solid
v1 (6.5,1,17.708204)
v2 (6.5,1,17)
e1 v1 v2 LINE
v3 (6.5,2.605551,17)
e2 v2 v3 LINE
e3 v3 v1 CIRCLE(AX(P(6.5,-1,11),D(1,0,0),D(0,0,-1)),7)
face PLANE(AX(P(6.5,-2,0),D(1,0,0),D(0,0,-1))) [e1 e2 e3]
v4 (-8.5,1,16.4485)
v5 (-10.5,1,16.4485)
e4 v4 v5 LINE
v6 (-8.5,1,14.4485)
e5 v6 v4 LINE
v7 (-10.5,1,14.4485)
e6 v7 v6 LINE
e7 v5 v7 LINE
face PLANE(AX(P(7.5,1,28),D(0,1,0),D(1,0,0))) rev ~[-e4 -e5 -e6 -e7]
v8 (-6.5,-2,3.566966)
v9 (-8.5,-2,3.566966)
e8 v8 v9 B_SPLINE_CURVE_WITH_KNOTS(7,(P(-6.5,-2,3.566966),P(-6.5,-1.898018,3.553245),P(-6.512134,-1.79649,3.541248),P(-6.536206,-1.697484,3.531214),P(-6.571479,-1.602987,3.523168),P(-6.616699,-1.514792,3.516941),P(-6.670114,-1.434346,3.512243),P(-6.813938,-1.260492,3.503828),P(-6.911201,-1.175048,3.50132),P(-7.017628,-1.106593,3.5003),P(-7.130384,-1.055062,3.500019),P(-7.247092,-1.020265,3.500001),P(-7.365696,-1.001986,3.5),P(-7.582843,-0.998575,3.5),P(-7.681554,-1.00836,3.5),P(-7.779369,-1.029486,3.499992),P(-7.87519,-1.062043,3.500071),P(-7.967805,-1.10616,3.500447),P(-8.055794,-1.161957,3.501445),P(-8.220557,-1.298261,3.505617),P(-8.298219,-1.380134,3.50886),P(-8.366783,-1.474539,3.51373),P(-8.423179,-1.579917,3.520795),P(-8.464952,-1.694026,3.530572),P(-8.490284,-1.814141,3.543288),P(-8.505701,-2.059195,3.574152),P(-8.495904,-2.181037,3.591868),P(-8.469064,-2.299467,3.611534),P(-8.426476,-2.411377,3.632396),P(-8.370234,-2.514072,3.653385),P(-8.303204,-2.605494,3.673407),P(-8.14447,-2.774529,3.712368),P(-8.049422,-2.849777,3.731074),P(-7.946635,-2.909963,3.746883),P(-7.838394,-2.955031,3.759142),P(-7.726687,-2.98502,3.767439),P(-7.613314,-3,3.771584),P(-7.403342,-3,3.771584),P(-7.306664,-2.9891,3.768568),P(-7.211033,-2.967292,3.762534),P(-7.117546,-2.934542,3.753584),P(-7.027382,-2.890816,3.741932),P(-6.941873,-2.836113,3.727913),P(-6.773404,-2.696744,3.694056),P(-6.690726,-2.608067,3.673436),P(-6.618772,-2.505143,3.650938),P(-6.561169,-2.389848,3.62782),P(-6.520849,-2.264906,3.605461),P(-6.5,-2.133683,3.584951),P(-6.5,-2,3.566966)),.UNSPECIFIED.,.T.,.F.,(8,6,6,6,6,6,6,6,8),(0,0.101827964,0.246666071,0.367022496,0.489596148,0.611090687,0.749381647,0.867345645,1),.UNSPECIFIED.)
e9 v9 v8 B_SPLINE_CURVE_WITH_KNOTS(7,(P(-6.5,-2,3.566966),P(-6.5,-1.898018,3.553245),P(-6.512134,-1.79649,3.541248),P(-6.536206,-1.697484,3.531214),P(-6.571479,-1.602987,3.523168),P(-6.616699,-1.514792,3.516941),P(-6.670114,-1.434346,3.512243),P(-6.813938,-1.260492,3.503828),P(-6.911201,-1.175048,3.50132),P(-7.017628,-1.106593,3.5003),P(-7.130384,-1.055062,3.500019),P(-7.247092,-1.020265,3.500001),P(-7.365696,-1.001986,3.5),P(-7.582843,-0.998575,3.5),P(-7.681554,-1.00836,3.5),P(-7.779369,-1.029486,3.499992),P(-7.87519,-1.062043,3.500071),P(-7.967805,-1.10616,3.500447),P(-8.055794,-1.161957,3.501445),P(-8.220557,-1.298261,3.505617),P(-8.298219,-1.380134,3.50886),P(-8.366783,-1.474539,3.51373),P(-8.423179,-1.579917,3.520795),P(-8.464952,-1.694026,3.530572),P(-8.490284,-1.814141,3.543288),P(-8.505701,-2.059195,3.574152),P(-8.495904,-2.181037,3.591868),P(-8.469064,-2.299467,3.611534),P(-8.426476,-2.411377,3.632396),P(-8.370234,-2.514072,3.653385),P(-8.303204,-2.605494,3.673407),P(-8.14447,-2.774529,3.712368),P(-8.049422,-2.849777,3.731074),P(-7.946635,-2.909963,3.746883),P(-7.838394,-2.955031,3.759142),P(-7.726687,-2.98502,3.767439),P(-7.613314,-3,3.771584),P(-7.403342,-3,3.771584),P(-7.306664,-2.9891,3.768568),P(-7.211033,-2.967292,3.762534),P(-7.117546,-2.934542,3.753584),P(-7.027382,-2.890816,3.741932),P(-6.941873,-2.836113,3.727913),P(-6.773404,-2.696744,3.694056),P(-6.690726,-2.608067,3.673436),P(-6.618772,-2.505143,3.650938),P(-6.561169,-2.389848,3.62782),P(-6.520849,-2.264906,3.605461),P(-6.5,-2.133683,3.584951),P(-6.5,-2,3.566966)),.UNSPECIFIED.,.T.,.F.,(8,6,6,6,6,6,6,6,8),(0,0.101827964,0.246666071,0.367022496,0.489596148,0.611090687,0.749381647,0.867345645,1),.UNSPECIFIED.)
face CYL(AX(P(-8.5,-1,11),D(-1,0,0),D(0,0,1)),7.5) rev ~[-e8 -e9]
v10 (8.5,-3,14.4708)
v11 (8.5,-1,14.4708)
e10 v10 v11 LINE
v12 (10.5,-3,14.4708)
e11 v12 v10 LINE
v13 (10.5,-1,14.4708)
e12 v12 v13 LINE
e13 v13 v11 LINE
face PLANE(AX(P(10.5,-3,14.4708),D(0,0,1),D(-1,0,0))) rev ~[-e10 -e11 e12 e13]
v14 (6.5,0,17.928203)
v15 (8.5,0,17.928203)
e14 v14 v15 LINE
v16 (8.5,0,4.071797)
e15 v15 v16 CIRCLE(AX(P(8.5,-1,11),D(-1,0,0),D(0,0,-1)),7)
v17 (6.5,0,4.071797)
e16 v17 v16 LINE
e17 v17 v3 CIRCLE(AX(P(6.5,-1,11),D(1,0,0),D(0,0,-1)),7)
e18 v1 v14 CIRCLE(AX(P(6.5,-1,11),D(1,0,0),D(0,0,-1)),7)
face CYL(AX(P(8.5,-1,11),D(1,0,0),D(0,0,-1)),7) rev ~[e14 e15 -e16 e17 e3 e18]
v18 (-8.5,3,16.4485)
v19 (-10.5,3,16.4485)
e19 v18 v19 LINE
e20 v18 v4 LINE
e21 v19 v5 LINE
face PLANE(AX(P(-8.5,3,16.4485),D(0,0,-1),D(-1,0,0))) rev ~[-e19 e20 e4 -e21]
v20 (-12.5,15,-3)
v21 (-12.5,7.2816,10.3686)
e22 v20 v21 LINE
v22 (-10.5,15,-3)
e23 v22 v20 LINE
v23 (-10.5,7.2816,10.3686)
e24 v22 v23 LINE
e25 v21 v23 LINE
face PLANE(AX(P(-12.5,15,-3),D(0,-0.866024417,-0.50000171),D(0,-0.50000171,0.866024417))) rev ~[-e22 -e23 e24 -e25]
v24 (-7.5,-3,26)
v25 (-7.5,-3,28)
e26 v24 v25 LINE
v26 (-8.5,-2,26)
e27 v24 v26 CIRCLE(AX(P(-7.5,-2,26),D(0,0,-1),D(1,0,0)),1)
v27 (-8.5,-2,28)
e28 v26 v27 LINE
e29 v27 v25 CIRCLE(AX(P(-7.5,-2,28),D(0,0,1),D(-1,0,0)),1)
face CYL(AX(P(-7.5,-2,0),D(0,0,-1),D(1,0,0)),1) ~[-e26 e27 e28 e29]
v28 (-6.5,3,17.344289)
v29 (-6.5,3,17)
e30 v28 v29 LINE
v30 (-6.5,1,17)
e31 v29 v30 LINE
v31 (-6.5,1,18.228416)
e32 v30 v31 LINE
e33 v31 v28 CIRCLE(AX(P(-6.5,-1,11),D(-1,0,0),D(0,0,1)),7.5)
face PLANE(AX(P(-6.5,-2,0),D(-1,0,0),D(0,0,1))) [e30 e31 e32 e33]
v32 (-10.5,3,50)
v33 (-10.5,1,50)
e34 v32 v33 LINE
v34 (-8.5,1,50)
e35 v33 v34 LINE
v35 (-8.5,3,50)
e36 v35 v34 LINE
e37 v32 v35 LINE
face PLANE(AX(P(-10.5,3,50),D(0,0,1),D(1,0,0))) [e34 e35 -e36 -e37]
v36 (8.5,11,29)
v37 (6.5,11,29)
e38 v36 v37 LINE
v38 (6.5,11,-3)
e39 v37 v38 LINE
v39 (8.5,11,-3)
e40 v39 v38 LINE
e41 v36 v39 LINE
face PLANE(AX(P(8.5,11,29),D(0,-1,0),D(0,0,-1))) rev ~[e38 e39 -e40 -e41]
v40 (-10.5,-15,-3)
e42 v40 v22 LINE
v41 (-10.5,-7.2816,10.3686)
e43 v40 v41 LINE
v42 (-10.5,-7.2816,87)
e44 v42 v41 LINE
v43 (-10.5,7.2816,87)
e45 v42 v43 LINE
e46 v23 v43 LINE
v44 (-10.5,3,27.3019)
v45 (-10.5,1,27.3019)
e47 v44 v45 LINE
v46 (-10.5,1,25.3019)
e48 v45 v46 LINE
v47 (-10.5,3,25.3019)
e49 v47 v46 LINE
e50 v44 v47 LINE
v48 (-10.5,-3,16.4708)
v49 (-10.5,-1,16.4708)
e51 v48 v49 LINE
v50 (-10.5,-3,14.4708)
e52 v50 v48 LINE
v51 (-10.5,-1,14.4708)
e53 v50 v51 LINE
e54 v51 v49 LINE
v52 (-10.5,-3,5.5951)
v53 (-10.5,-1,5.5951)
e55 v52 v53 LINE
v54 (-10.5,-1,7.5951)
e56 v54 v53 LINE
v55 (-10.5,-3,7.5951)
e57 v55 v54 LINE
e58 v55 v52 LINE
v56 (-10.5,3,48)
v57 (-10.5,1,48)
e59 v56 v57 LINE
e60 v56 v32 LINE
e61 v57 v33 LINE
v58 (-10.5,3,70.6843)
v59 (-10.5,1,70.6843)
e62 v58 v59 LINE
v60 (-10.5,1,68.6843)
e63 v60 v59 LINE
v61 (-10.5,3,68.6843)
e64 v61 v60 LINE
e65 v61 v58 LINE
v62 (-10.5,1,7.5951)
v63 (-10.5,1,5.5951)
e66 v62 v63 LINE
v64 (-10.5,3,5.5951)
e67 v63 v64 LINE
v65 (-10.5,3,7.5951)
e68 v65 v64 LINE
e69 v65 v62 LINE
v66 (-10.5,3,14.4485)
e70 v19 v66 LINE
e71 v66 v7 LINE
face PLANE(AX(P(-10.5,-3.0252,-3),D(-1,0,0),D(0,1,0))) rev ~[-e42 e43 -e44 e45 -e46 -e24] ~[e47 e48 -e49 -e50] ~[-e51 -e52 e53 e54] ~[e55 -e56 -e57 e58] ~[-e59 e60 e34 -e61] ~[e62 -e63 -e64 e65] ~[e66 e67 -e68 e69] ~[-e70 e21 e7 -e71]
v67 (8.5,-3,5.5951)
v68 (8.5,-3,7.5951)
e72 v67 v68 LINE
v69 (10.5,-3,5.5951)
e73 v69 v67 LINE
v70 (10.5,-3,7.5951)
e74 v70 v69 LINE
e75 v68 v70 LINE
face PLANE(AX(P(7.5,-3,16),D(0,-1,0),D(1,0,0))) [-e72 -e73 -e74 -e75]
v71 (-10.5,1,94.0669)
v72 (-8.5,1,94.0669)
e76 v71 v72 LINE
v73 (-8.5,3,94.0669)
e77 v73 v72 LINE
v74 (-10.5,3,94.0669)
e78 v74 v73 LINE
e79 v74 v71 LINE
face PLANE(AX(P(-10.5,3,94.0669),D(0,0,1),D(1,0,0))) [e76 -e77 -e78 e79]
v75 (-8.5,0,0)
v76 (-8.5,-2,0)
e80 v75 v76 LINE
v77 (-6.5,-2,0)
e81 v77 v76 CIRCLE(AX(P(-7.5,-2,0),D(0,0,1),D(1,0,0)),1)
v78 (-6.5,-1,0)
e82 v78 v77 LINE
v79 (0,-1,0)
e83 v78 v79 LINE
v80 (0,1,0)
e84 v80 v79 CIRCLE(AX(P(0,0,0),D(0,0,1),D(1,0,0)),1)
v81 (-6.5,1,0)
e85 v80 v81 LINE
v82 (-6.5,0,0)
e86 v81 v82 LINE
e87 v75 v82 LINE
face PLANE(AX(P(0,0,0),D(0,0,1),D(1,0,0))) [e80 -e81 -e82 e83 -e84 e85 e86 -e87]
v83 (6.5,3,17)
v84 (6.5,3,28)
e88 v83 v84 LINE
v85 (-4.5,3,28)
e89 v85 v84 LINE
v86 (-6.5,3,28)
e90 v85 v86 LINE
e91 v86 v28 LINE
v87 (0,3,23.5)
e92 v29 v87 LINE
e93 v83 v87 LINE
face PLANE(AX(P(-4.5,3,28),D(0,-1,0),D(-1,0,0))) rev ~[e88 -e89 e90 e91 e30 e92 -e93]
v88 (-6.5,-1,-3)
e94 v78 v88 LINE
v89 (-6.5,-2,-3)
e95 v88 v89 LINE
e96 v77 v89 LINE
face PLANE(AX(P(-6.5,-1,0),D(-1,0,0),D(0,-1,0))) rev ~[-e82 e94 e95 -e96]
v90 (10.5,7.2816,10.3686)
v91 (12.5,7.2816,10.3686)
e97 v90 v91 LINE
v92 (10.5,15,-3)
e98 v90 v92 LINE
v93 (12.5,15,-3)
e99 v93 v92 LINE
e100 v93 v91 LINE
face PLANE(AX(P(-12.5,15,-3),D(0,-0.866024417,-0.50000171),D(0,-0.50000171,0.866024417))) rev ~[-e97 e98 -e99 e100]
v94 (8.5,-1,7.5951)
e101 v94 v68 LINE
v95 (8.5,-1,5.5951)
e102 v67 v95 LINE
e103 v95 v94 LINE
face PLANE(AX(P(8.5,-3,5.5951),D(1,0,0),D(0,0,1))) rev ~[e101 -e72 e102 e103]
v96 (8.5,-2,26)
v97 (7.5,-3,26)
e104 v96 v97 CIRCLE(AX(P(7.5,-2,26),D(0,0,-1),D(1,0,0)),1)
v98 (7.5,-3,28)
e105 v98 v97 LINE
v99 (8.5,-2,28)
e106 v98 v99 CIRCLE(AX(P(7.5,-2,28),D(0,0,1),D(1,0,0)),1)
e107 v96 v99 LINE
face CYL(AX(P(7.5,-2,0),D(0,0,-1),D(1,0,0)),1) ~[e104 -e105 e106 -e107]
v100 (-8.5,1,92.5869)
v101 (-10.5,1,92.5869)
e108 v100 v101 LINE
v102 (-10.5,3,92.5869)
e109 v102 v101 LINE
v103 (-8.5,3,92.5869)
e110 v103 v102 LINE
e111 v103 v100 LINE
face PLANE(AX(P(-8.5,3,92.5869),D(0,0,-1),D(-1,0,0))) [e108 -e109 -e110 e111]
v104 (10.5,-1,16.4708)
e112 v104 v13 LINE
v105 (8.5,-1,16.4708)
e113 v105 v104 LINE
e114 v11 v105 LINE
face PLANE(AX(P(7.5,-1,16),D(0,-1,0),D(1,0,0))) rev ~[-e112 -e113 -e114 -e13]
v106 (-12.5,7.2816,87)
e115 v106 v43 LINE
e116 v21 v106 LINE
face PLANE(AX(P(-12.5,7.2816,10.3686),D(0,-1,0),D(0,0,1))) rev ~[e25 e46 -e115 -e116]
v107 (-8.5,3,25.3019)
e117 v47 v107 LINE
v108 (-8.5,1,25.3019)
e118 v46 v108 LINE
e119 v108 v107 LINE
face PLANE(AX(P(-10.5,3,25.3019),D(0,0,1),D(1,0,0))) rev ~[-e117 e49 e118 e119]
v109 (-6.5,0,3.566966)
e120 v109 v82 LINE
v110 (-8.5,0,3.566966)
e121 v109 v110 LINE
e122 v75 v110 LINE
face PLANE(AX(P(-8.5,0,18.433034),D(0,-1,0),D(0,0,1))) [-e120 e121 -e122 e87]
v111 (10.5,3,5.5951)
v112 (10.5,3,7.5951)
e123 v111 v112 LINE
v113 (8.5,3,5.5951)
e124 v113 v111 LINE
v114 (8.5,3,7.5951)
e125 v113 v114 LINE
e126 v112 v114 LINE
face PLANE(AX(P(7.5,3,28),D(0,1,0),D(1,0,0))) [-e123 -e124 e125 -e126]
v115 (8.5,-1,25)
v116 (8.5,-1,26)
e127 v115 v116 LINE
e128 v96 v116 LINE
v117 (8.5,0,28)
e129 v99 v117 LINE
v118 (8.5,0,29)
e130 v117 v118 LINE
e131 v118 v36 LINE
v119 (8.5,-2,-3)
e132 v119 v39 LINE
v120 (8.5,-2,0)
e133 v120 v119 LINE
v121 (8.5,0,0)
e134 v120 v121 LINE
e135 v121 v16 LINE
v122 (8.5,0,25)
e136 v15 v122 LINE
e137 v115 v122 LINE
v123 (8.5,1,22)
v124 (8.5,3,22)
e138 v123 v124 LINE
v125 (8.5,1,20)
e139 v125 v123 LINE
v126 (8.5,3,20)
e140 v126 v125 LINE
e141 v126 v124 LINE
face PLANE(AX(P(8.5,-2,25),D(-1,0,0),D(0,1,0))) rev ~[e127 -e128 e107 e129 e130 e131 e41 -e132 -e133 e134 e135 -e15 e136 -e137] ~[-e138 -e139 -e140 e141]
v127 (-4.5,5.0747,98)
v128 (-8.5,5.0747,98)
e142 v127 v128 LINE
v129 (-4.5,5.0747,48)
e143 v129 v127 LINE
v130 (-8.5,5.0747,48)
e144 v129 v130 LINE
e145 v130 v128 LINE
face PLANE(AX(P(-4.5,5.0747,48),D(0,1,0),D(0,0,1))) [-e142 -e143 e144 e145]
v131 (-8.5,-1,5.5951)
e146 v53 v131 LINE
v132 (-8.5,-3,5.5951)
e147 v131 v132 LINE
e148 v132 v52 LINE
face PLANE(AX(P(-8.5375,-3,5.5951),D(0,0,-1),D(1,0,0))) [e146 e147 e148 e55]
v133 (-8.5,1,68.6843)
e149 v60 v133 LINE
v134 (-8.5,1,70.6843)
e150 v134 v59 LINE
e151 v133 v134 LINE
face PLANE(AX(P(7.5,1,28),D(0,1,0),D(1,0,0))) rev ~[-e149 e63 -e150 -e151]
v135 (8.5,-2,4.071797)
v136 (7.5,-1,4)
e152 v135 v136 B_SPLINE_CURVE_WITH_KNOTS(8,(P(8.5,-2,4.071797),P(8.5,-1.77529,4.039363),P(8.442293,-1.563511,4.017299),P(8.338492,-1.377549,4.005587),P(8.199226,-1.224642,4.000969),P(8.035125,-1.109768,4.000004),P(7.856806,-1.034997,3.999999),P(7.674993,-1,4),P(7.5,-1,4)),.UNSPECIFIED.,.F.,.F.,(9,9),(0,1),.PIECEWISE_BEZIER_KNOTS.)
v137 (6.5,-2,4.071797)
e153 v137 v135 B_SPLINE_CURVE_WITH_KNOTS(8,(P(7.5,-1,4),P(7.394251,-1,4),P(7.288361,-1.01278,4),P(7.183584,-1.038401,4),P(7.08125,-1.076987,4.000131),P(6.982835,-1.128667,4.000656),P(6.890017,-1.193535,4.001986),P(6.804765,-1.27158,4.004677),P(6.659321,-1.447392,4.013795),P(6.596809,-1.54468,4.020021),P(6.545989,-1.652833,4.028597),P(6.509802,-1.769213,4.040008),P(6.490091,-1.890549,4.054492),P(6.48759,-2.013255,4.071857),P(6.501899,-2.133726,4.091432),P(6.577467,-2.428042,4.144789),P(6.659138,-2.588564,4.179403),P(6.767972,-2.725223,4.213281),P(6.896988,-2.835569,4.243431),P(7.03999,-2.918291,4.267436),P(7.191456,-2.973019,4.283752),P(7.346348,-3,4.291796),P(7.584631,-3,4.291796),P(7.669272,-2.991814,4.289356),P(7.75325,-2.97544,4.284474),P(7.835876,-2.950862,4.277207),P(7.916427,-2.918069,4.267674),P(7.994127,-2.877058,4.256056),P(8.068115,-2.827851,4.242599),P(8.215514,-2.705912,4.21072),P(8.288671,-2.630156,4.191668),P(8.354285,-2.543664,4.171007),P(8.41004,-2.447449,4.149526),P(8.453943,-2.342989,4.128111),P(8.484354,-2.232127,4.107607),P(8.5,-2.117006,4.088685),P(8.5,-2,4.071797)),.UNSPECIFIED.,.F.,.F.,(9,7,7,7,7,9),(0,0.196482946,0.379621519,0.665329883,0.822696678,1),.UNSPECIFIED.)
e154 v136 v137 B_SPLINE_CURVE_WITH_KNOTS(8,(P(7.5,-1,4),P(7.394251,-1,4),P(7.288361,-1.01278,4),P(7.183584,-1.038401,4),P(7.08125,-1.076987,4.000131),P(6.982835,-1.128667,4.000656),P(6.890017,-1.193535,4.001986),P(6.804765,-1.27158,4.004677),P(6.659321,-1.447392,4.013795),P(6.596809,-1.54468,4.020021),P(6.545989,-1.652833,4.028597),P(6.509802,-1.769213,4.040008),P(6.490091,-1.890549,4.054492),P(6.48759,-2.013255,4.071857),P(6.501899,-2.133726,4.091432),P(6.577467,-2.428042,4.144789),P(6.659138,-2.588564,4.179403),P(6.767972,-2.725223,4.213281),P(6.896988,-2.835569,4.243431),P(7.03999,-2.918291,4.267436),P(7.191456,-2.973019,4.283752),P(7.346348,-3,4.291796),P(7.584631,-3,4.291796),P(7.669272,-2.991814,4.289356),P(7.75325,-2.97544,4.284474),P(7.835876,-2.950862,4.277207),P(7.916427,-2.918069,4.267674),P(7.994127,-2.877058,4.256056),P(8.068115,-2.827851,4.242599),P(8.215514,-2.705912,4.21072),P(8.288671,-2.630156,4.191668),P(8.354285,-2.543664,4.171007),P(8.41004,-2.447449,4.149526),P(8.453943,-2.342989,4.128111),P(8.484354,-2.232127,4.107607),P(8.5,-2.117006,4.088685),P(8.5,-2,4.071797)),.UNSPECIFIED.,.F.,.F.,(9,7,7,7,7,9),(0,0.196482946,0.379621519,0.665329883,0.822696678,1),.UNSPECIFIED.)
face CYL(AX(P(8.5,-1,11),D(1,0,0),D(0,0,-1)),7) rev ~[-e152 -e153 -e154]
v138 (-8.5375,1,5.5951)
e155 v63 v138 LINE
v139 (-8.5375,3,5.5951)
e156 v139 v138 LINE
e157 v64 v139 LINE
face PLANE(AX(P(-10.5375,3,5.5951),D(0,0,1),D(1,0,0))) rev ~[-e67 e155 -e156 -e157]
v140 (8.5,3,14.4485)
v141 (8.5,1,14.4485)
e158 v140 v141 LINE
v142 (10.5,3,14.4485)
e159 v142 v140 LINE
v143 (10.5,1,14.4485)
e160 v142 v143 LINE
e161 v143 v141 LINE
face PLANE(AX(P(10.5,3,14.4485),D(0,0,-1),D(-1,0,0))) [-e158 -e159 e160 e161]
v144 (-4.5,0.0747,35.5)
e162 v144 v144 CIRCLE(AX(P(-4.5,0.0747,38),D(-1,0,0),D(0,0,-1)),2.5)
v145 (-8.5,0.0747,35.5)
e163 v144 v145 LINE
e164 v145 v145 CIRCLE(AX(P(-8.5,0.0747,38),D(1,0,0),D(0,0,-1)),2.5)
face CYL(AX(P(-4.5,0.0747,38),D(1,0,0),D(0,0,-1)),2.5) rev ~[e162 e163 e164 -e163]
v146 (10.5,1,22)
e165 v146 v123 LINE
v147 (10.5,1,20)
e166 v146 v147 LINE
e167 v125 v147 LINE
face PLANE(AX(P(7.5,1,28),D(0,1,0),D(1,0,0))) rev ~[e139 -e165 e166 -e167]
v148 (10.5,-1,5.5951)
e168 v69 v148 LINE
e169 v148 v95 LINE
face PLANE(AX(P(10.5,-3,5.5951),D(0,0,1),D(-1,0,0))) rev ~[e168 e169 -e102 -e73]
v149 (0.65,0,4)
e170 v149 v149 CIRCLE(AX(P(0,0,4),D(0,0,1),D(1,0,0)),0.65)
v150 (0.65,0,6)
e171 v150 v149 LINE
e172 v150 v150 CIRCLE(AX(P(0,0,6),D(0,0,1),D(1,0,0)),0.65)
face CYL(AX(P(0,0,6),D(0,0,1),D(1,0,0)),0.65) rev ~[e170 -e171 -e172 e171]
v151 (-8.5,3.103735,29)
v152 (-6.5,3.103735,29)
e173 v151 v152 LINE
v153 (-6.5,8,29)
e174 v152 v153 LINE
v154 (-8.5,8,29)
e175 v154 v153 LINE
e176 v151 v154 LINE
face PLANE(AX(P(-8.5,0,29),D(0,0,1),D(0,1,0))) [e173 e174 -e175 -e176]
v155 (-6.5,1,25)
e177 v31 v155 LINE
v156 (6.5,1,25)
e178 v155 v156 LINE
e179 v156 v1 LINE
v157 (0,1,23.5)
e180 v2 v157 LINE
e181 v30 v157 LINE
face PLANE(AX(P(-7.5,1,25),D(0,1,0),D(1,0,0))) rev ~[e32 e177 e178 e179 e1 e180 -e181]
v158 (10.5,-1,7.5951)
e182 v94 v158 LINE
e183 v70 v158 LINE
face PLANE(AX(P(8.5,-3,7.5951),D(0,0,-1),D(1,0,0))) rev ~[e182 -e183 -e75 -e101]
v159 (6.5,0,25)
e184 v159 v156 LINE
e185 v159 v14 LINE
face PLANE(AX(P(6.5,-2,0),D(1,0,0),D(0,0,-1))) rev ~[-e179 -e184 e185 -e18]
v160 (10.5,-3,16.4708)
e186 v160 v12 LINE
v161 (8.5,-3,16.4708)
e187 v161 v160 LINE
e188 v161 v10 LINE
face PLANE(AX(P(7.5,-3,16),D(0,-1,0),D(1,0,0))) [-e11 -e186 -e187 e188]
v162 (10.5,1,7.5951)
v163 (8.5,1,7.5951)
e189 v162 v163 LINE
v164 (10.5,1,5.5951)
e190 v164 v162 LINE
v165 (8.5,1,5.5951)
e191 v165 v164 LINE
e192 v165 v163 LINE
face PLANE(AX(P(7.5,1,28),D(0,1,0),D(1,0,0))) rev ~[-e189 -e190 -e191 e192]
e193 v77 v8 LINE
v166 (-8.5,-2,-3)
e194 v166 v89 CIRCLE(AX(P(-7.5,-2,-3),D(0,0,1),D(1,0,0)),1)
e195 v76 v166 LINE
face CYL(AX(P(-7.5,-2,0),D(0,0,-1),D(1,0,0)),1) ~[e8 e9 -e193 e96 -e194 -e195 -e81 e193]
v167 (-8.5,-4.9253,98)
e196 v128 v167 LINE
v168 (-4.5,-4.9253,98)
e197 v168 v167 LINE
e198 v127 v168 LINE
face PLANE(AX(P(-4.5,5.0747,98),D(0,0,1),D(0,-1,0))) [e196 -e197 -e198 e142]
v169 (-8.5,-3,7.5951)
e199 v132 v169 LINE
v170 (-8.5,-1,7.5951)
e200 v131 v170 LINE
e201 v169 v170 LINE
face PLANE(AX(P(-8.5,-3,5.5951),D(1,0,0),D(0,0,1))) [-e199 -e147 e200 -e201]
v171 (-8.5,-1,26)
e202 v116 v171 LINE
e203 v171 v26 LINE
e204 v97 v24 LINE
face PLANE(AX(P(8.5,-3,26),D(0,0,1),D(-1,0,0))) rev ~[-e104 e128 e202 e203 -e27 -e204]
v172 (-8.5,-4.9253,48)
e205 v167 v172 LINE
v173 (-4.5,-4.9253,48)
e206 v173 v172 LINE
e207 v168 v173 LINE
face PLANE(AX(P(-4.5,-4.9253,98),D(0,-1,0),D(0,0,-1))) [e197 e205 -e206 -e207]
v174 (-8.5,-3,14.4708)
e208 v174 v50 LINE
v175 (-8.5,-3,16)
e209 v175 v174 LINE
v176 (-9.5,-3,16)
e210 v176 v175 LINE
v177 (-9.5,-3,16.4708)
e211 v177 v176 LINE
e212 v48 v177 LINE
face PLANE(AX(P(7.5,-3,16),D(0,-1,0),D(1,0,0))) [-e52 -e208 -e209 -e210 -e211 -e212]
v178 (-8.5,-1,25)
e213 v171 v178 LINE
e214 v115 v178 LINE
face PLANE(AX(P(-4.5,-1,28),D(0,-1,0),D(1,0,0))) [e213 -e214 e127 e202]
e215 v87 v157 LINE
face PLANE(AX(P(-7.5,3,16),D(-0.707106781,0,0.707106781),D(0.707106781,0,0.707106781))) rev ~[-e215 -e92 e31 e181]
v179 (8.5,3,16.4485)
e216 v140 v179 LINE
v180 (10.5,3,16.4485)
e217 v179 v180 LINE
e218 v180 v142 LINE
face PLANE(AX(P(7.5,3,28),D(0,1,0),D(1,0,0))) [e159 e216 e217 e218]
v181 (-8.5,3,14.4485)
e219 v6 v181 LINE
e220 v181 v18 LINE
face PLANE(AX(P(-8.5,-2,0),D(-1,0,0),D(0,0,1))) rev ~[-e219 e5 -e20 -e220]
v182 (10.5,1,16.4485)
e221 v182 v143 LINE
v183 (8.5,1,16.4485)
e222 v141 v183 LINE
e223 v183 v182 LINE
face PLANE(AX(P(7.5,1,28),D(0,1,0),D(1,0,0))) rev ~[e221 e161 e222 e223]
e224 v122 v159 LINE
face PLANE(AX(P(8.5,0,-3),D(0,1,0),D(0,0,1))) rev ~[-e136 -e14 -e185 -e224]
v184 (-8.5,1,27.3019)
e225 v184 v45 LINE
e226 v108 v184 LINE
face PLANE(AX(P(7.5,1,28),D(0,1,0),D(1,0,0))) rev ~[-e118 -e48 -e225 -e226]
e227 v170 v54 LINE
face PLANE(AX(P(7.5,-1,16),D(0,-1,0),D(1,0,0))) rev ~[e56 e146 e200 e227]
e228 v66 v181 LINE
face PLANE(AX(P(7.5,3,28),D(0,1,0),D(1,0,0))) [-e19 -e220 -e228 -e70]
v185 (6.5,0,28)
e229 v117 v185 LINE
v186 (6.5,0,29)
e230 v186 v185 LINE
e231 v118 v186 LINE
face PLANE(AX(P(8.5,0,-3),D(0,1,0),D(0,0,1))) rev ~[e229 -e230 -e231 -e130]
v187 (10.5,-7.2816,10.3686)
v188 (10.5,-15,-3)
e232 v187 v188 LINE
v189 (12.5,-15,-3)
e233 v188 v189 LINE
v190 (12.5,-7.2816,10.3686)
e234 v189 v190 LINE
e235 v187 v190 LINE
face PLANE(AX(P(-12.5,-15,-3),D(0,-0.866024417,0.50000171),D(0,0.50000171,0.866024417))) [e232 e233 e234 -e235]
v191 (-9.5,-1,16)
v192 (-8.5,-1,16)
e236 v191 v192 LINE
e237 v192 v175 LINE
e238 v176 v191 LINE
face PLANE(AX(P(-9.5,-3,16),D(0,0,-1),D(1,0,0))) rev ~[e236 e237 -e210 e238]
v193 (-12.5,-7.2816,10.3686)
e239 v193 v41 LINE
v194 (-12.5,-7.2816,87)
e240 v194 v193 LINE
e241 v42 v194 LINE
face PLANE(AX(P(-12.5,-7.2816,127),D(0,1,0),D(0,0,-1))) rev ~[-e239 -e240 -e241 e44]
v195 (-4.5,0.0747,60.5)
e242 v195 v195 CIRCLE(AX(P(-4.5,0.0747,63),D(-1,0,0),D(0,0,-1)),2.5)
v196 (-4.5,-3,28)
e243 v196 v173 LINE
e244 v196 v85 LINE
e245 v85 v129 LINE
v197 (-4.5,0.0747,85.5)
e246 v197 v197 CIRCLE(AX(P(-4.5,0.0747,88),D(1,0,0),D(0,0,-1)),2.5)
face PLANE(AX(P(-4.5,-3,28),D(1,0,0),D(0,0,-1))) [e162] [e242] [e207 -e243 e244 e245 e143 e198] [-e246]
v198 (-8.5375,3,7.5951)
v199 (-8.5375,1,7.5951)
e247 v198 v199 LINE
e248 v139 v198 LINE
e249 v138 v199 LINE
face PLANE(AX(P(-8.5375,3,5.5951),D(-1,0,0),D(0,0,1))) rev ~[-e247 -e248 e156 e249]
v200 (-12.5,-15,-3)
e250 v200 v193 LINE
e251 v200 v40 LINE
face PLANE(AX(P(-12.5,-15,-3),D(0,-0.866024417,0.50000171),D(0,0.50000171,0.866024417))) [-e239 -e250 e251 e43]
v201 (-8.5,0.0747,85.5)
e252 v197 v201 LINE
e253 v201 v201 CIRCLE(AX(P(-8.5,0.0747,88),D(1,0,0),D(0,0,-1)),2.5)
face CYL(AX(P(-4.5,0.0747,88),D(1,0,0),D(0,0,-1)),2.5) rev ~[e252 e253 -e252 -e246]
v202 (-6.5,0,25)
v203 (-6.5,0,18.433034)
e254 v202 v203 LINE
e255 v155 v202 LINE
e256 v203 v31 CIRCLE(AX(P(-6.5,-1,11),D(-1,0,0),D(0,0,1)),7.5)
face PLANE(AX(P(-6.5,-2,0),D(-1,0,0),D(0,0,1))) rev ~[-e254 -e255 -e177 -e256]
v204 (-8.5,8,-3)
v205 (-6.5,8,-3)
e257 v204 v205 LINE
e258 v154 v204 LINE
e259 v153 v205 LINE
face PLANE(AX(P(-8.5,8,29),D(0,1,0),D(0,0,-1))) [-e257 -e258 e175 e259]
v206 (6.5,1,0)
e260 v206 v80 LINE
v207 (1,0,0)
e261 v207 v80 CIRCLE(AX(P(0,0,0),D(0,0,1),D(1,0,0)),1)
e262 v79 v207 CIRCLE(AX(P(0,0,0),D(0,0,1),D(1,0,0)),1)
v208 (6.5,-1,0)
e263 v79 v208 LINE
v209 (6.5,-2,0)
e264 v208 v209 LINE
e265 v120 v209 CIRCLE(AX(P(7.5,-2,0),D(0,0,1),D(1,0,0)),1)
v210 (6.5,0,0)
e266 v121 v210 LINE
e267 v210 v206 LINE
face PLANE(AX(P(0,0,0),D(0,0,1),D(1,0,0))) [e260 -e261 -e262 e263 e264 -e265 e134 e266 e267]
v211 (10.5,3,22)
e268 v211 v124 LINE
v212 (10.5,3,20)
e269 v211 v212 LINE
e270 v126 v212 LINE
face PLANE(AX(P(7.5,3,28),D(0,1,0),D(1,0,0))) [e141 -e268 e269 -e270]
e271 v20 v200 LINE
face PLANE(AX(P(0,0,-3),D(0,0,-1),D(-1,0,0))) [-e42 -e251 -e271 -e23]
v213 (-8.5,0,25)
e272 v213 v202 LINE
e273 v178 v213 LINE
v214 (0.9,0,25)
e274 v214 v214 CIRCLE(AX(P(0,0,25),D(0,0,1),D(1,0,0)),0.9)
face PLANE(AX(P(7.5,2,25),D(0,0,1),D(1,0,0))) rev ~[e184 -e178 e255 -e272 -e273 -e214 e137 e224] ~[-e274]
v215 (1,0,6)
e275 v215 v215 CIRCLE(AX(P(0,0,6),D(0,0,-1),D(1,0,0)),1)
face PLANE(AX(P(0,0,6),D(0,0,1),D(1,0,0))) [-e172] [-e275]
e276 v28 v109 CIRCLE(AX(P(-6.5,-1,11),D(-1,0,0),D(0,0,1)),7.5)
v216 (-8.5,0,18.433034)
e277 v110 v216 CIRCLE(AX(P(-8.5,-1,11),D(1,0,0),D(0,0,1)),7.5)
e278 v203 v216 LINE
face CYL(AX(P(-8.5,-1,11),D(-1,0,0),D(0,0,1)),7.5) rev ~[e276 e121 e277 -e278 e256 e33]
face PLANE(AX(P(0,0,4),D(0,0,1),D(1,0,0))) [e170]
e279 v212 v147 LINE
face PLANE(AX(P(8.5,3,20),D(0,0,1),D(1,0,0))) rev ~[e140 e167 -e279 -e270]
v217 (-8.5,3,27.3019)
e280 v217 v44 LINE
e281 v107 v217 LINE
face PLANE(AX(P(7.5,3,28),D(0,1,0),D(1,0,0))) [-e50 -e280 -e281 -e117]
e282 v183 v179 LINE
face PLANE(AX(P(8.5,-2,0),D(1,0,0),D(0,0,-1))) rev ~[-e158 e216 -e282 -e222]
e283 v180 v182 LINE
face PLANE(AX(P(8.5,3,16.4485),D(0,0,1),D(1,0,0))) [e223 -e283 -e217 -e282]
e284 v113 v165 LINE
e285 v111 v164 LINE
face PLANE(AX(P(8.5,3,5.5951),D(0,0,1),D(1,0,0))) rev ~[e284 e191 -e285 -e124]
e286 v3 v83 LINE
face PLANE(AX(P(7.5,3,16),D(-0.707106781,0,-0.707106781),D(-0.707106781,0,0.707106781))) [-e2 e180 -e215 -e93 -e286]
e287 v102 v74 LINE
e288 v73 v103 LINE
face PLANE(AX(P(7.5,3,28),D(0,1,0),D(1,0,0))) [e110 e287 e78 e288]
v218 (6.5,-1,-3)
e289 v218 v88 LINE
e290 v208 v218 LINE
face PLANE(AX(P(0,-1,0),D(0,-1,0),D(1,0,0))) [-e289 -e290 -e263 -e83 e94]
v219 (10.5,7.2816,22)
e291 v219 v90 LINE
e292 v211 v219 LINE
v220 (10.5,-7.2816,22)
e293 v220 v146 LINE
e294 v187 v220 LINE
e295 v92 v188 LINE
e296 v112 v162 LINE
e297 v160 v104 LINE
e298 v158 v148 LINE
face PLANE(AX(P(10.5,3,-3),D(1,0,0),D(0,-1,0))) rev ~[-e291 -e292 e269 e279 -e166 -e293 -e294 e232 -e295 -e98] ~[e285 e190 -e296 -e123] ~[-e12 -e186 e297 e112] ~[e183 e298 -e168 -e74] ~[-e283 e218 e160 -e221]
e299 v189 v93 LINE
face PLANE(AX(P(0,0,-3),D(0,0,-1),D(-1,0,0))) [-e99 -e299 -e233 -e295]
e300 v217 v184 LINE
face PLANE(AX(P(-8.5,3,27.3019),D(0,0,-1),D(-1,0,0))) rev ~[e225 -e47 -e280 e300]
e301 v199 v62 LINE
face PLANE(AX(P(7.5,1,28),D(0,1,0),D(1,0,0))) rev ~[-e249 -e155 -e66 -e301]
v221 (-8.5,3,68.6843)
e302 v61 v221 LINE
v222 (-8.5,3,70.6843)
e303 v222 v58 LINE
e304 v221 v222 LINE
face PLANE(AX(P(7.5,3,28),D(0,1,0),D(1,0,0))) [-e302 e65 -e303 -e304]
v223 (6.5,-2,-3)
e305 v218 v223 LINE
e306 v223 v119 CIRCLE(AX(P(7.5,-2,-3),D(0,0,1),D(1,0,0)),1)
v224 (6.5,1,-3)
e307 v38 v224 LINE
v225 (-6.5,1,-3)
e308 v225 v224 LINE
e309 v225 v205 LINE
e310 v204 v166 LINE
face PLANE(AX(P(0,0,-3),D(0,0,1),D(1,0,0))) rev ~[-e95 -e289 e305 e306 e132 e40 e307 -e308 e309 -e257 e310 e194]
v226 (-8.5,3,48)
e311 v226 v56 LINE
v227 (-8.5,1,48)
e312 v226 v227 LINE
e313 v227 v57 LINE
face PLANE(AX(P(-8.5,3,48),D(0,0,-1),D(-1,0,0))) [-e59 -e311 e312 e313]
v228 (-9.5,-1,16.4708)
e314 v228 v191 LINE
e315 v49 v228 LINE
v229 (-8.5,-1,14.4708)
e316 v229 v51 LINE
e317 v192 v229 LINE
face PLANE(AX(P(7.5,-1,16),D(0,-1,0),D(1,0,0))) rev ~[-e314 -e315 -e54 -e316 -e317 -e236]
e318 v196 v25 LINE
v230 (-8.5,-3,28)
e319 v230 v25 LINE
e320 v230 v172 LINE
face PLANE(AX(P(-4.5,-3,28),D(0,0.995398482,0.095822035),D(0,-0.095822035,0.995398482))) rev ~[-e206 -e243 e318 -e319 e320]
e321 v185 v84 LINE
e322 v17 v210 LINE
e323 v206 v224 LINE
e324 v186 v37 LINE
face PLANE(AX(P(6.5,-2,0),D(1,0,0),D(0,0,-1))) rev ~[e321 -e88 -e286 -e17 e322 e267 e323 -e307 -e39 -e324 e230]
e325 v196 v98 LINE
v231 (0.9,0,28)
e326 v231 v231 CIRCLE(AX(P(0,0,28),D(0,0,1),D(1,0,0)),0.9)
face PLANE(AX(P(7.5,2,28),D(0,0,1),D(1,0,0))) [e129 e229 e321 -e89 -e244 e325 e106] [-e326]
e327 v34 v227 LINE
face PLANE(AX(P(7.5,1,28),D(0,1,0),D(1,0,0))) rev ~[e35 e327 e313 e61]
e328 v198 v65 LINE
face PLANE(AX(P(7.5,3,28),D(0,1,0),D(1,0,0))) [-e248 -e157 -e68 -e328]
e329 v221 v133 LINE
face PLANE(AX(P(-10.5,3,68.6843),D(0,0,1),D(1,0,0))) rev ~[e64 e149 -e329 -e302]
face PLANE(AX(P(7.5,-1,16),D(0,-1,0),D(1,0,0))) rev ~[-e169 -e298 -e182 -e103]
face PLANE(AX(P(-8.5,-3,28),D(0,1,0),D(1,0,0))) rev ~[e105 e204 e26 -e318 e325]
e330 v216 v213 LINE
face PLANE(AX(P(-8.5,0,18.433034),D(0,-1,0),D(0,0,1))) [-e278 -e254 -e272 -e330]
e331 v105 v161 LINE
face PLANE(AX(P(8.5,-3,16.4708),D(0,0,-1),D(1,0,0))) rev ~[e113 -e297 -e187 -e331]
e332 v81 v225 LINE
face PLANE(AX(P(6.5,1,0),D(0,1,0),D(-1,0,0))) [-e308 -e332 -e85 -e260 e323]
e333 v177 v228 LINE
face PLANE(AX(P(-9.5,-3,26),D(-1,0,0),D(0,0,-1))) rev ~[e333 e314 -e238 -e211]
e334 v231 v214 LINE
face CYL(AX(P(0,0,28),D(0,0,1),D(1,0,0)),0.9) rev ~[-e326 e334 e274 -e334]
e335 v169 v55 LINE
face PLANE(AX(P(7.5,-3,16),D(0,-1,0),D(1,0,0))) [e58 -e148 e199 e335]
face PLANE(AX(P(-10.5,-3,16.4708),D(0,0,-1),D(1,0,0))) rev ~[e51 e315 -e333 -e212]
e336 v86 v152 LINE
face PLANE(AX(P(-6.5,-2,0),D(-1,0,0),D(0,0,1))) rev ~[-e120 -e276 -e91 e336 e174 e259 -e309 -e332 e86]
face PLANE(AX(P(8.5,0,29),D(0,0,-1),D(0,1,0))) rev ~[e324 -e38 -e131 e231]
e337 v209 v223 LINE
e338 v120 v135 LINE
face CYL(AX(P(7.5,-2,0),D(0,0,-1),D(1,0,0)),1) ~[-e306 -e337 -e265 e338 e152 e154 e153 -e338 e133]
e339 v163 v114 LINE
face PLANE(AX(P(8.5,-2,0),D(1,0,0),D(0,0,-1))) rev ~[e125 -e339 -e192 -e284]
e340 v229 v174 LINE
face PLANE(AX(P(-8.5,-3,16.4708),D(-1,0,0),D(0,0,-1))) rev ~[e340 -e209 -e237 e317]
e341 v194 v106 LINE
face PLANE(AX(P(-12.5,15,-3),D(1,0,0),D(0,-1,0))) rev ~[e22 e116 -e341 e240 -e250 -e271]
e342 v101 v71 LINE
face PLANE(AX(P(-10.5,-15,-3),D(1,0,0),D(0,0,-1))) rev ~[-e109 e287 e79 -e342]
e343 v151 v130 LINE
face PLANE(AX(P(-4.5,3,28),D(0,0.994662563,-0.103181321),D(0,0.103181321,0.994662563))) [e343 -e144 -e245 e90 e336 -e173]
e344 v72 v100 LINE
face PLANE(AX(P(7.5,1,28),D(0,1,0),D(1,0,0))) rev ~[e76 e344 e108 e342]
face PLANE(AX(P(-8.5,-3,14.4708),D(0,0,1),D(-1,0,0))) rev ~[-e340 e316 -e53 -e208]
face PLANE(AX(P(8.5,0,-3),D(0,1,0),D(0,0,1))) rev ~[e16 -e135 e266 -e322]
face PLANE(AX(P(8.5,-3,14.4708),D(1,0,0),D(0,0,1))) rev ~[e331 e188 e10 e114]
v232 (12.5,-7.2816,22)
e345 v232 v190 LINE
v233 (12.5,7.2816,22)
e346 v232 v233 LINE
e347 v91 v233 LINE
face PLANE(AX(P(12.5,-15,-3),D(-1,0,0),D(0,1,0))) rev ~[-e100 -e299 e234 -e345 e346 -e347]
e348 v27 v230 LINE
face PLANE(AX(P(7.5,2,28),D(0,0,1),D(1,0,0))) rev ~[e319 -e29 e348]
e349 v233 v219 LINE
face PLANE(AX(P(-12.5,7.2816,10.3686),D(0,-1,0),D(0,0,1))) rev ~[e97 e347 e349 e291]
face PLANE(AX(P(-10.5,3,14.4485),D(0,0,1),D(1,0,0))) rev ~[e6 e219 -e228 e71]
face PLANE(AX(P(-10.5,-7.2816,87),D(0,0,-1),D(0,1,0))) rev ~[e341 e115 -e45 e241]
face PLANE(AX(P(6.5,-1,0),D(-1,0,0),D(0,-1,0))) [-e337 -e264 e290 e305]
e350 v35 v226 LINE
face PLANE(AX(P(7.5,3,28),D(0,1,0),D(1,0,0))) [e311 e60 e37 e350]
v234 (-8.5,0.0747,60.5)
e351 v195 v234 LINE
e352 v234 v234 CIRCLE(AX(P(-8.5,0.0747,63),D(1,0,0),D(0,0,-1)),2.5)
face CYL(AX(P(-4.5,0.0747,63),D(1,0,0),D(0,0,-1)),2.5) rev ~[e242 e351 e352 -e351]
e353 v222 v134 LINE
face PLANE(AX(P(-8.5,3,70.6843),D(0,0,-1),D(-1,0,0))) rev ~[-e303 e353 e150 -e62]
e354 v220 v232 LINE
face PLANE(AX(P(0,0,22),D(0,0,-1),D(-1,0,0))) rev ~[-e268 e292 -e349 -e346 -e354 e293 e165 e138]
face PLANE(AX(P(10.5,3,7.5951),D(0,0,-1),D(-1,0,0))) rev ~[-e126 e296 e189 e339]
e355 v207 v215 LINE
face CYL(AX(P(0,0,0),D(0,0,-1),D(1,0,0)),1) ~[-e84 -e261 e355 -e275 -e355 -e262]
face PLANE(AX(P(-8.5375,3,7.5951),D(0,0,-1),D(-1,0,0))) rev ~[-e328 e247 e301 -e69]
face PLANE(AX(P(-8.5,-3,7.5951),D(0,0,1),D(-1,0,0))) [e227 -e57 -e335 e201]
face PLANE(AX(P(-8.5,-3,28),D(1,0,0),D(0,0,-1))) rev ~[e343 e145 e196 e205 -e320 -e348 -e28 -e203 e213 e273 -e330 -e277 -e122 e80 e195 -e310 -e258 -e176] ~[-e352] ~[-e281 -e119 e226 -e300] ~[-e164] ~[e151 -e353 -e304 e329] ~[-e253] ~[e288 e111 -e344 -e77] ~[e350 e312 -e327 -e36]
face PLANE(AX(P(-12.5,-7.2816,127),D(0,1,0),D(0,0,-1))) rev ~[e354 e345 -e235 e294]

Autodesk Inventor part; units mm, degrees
ref_plane "YZ Plane" through (0, 0, 0) normal (1, 0, 0) x (0, 1, 0)
ref_plane "XZ Plane" through (0, 0, 0) normal (0, 1, 0) x (-1, 0, 0)
ref_plane "XY Plane" through (0, 0, 0) normal (0, 0, 1) x (1, 0, 0)
sketch "Sketch1" plane through (0, 0, 0) normal (0, 0, 1) x (1, 0, 0)
  line L0 (0, 0) -> (8.5, 0)
  line L1 (8.5, 0) -> (8.5, 1)
  line L2 (8.5, 1) -> (-8.5, 1)
  line L3 (-8.5, 1) -> (-8.5, -1)
  line L4 (-8.5, -1) -> (8.5, -1)
  line L5 (8.5, -1) -> (8.5, 1)
  circle A0 centre (0, 0) radius 1
  line L6 (-8.5, 0) -> (-7.5, 0)
  line L7 (8.5, 0) -> (7.5, 0)
  circle A1 centre (-7.5, 0) radius 1
  circle A2 centre (7.5, 0) radius 1
  line L8 (-7.5, 0) -> (-7.5, 2)
  line L9 (-7.5, 0) -> (-7.5, -2)
  line L10 (7.5, 0) -> (7.5, 2)
  line L11 (7.5, 0) -> (7.5, -2)
  line L12 (8.5, 2) -> (6.5, 2)
  line L13 (6.5, 2) -> (6.5, -2)
  line L14 (6.5, -2) -> (8.5, -2)
  line L15 (8.5, -2) -> (8.5, 2)
  line L16 (-8.5, 2) -> (-6.5, 2)
  line L17 (-6.5, 2) -> (-6.5, -2)
  line L18 (-6.5, -2) -> (-8.5, -2)
  line L19 (-8.5, -2) -> (-8.5, 2)
  circle A3 centre (-7.5, 2) radius 1
  circle A4 centre (-7.5, -2) radius 1
  circle A5 centre (7.5, -2) radius 1
  circle A6 centre (7.5, 2) radius 1
  dimension "d3" = 8.5
  dimension "d4" = 1
  dimension "d5" = 17
  dimension "d6" = 2
  dimension "d7" = 2
  dimension "d8" = 1
  dimension "d9" = 1
  dimension "d10" = 2
  dimension "d11" = 2
  dimension "d12" = 2
  dimension "d13" = 2
  dimension "d14" = 2
  dimension "d15" = 2
  dimension "d16" = 2
  dimension "d17" = 2
extrude "Extrusion1" add sketch "Sketch1" along normal blind 25 contours A6 L12 L10 | L10 L12 A6 | A5 L14 L11 | L11 L14 A5 | L12 A6 | L14 A5 | A3 L16 L8 | L8 L16 A3 | L16 A3 | A4 L18 L9 | L9 L18 A4 | A4 L18
extrude "Extrusion2" add sketch "Sketch1" against normal blind 3
extrude "Extrusion3" add sketch "Sketch1" along normal blind 6 contours A0
sketch "Sketch2" plane through (0, 0, 6) normal (0, 0, 1) x (1, 0, 0)
  circle A0 centre (0, 0) radius 0.65
  dimension "d25" = 1.3
extrude "Extrusion4" cut sketch "Sketch2" against normal blind 2
sketch "Sketch3" plane through (7.5, 2, 25) normal (0, 0, 1) x (1, 0, 0)
  circle A0 centre (0, 0) radius 1 projected
  arc A1 (-16, -4) -> (-14, -4) centre (-15, -4) ccw projected
  line L0 (0, 1) -> (-15, 1)
  line L1 (-15, 1) -> (-15, -5)
  line L2 (-15, -5) -> (0, -5)
  line L3 (0, -5) -> (0, 1)
  line L4 (1, -4) -> (1, 0) projected
  arc A2 (-16, 0) -> (-14, 0) centre (-15, 0) ccw projected
  line L5 (1, -4) -> (-16, -4)
  line L6 (-16, -4) -> (-16, 0)
  line L7 (-16, 0) -> (1, 0)
  line L8 (1, 0) -> (1, -4)
  circle A3 centre (0, -4) radius 1 projected
  circle A4 centre (0, -4) radius 1
  circle A5 centre (0, 0) radius 1
  circle A6 centre (-15, 0) radius 1 projected
  circle A7 centre (-15, 0) radius 1
  circle A8 centre (-15, -4) radius 1
  point P0 (-7.5, -2)
sketch "Sketch4" plane through (-7.5, 2, 25) normal (0, 0, 1) x (1, 0, 0)
  point P0 (7.5, -2)
extrude "Extrusion5" add sketch "Sketch3" along normal blind 3
sketch "Sketch5" plane through (-7.5, -3, 25) normal (0, -1, 0) x (1, 0, 0)
  line L0 (15, 0) -> (15, 3) projected
  line L1 (15, 3) -> (15, -9)
  line L2 (15, -9) -> (6, 0)
  line L3 (15, 0) -> (0, 0) projected
  line L4 (6, 0) -> (15, 3)
  line L5 (0, 3) -> (0, -9)
  line L6 (0, -9) -> (9, 0)
  line L7 (15, 3) -> (0, 3) projected
  line L8 (9, 0) -> (0, 3)
  point P0 (7.5, -25)
  dimension "d30" = 12
  dimension "d31" = 45
  dimension "d32" = 45
extrude "Extrusion6" add sketch "Sketch5" against normal blind 2 contours L1 L2 L6 L3 | L6 L2 L3 | L3 L4 L8 | L4 L3 L5 L8 | L6 L5 L3 L2
sketch "Sketch6" plane through (-7.5, 3, 25) normal (0, 1, 0) x (1, 0, 0)
  line L0 (-1, -3) -> (0, -3) projected
  line L1 (0, -3) -> (0, 9)
  line L2 (-1, 28) -> (-1, -3) projected
  line L3 (0, -3) -> (12, -3) construction
  line L4 (0, 9) -> (9, 0)
  line L5 (15, 0) -> (0, 0) projected
  line L6 (0, -3) -> (15, -3) projected
  line L7 (9, 0) -> (0, -3)
  line L8 (15, 9) -> (15, 0) projected
  line L9 (15, -3) -> (15, 9)
  line L10 (15, 9) -> (3, -3)
  point P0 (7.5, 25)
  dimension "d35" = 12
  dimension "d36" = 90
  dimension "d37" = 45
extrude "Extrusion7" add sketch "Sketch6" against normal blind 2 contours L1 L4 L10 L5 | L10 L7 L5 L9 L6 | L10 L5 L7 | L10 L4 L5 | L4 L10 L8 L5
sketch "Sketch7" plane through (7.5, 2, 28) normal (0, 0, 1) x (1, 0, 0)
  circle A0 centre (-7.5, -2) radius 0.65 projected
  circle A1 centre (-7.5, -2) radius 0.9
  line L0 (0, 1) -> (-15, 1) projected
  line L1 (-16, -5) -> (-12, -5)
  line L2 (-12, -5) -> (-12, 1)
  line L3 (-12, 1) -> (-16, 1)
  line L4 (-16, 1) -> (-16, -5)
  dimension "d40" = 1.8
  dimension "d41" = 4
extrude "Extrusion8" cut sketch "Sketch7" against normal blind 10 contours A0 | A1
extrude "Extrusion9" add sketch "Sketch7" along normal blind 60 contours L2 L1 L4 L3 L0
sketch "Sketch10" plane through (0, 0, -3) normal (0, 0, -1) x (-1, 0, 0)
  line L0 (8.5, -3.0252) -> (10.5, -3.0252)
  line L1 (10.5, -3.0252) -> (10.5, 2.9748)
  line L2 (10.5, 2.9748) -> (8.5, 2.9748)
  line L3 (8.5, 2.9748) -> (8.5, -3.0252)
  line L4 (-8.5, 3) -> (-10.5, 3)
  line L5 (-10.5, 3) -> (-10.5, -3)
  line L6 (-10.5, -3) -> (-8.5, -3)
  line L7 (-8.5, -3) -> (-8.5, 3)
  line L8 (10.5, 15) -> (12.5, 15)
  line L9 (12.5, 15) -> (12.5, -15)
  line L10 (12.5, -15) -> (10.5, -15)
  line L11 (10.5, -15) -> (10.5, 15)
  line L12 (-10.5, -15) -> (-12.5, -15)
  line L13 (-12.5, -15) -> (-12.5, 15)
  line L14 (-12.5, 15) -> (-10.5, 15)
  line L15 (-10.5, 15) -> (-10.5, -15)
  point P0 (0, 0)
  dimension "d62" = 2
  dimension "d63" = 6
  dimension "d64" = 2
  dimension "d65" = 6
  dimension "d66" = 2
  dimension "d67" = 30
  dimension "d68" = 2
  dimension "d69" = 30
extrude "Extrusion12" add sketch "Sketch10" against normal blind 25 contours L5 L15 L12 L13 L14
extrude "Extrusion13" add sketch "Sketch10" against normal blind 130 contours L1 L11 L8 L9 L10
sketch "Sketch11" plane through (-12.5, -15, -3) normal (-1, 0, 0) x (0, 0, 1)
  point P0 (3, 15)
sketch "Sketch12" plane through (-12.5, -15, -3) normal (-1, 0, 0) x (0, 0, 1)
  line L0 (0, 30) -> (0, 0) projected
  line L1 (0, 30) -> (13.3686, 22.2816)
  line L2 (0, 30) -> (15.4368, 30) construction
  line L3 (0, 0) -> (130, 0) projected
  line L4 (0, 0) -> (13.3686, 7.7184)
  line L5 (0, 0) -> (15.4368, 0) construction
  line L6 (13.3686, 7.7184) -> (13.3686, 22.2816)
  line L7 (13.3686, 22.2816) -> (130, 22.2816)
  line L8 (130, 30) -> (130, 0) projected
  line L9 (130, 7.7184) -> (13.3686, 7.7184)
  line L10 (0, 0) -> (130, 0)
  line L11 (130, 7.7184) -> (130, 22.2816)
  line L12 (130, 30) -> (0, 30)
  point P0 (3, 15)
  dimension "d74" = 30
  dimension "d75" = 30
extrude "Extrusion14" cut sketch "Sketch12" against normal blind 130 contours L12 L8 L7 L1 | L4 L9 L8 L3
sketch "Sketch13" plane through (-12.5, -15, -3) normal (-1, 0, 0) x (0, 0, 1)
  line L0 (0, 30) -> (0, 0) projected
  line L1 (0, 15) -> (130, 15)
  line L2 (130, 22.2816) -> (130, 7.7184) projected
  circle A0 centre (40, 15) radius 1
  circle A1 centre (60, 15) radius 1
  circle A2 centre (80, 15) radius 1
  circle A3 centre (100, 15) radius 1
  circle A4 centre (115.7268, 15) radius 1
  point P0 (3, 15)
  dimension "d79" = 2
  dimension "d80" = 2
  dimension "d81" = 2
  dimension "d82" = 2
  dimension "d83" = 2
sketch "Sketch18" plane through (-4.5, -3, 28) normal (1, 0, 0) x (0, 0, -1)
  line L0 (-20, 8.0747) -> (-70, 8.0747)
  line L1 (-70, 8.0747) -> (-70, -1.9253)
  line L2 (-70, -1.9253) -> (-20, -1.9253)
  line L3 (-20, -1.9253) -> (-20, 8.0747)
  point P0 (28, 3)
  dimension "d106" = 50
  dimension "d107" = 10
extrude "Extrusion21" add sketch "Sketch18" against normal blind 4
sketch "Sketch19" plane through (-4.5, -3, 28) normal (1, 0, 0) x (0, 0, -1)
  line L0 (-70, 8.0747) -> (-20, 8.0747) projected
  line L1 (0, 6) -> (-20, 8.0747)
  line L2 (-20, 6) -> (-20, 8.0747) projected
  line L3 (-20, 8.0747) -> (-20, 6)
  line L4 (0, 6) -> (-20, 6) projected
  line L5 (-20, 6) -> (0, 6)
  line L6 (0, 0) -> (-20, 0) projected
  line L7 (-20, -1.9253) -> (-20, 0) projected
  line L8 (0, 0) -> (-20, -1.9253)
  line L9 (-20, -1.9253) -> (-20, 0)
  line L10 (0, 1) -> (0, 0) projected
  line L11 (-20, 0) -> (0, 0)
  point P0 (28, 3)
extrude "Extrusion22" add sketch "Sketch19" against normal blind 4
sketch "Sketch20" plane through (-4.5, -4.9253, 98) normal (1, 0, 0) x (0, 0, -1)
  circle A0 centre (60, 5) radius 2.5
  line L0 (60, 5) -> (35, 5)
  circle A1 centre (35, 5) radius 2.5
  line L1 (35, 5) -> (10, 5)
  circle A2 centre (10, 5) radius 2.5
  point P0 (98, 4.9253)
  dimension "d112" = 5
  dimension "d113" = 25
  dimension "d114" = 5
  dimension "d115" = 25
  dimension "d116" = 5
extrude "Extrusion23" cut sketch "Sketch20" against normal blind 4
sketch "Sketch21" plane through (7.5, 3, 28) normal (0, 1, 0) x (1, 0, 0)
  line L0 (1, 31) -> (1, 0) projected
  line L1 (1, 22.4049) -> (3, 22.4049)
  line L2 (3, 22.4049) -> (3, 20.4049)
  line L3 (3, 20.4049) -> (1, 20.4049)
  line L4 (1, 20.4049) -> (1, 22.4049)
  line L5 (-16.0375, 20.4049) -> (-18.0375, 20.4049)
  line L6 (-18.0375, 20.4049) -> (-18.0375, 22.4049)
  line L7 (-18.0375, 22.4049) -> (-16.0375, 22.4049)
  line L8 (-16.0375, 22.4049) -> (-16.0375, 20.4049)
  line L9 (-16, 31) -> (-16, 0) projected
  line L10 (-16, 11.5515) -> (-18, 11.5515)
  line L11 (-18, 11.5515) -> (-18, 13.5515)
  line L12 (-18, 13.5515) -> (-16, 13.5515)
  line L13 (-16, 13.5515) -> (-16, 11.5515)
  line L14 (1, 11.5515) -> (3, 11.5515)
  line L15 (3, 11.5515) -> (3, 13.5515)
  line L16 (3, 13.5515) -> (1, 13.5515)
  line L17 (1, 13.5515) -> (1, 11.5515)
  line L18 (3, 6) -> (3, 17.6314) projected
  line L19 (3, 6) -> (1, 6)
  line L20 (1, 6) -> (1, 8)
  line L21 (1, 8) -> (3, 8)
  line L22 (3, 8) -> (3, 6)
  line L23 (-16, 0.6981) -> (-18, 0.6981)
  line L24 (-18, 0.6981) -> (-18, 2.6981)
  line L25 (-18, 2.6981) -> (-16, 2.6981)
  line L26 (-16, 2.6981) -> (-16, 0.6981)
  line L27 (-16, -20) -> (-16, 0) projected
  line L28 (-16, -20) -> (-18, -20)
  line L29 (-18, -20) -> (-18, -22)
  line L30 (-18, -22) -> (-16, -22)
  line L31 (-16, -22) -> (-16, -20)
  line L32 (-18, 17.6314) -> (-18, -99) projected
  line L33 (-18, -40.6843) -> (-16, -40.6843)
  line L34 (-16, -40.6843) -> (-16, -42.6843)
  line L35 (-16, -42.6843) -> (-18, -42.6843)
  line L36 (-18, -42.6843) -> (-18, -40.6843)
  line L37 (-16, -70) -> (-16, -20) projected
  line L38 (-16, -64.5869) -> (-18, -64.5869)
  line L39 (-18, -64.5869) -> (-18, -66.0669)
  line L40 (-18, -66.0669) -> (-16, -66.0669)
  line L41 (-16, -66.0669) -> (-16, -64.5869)
  dimension "d131" = 2
  dimension "d132" = 2
  dimension "d133" = 2
  dimension "d134" = 2
  dimension "d135" = 2
  dimension "d136" = 2
  dimension "d137" = 2
  dimension "d138" = 2
  dimension "d139" = 2
  dimension "d140" = 2
  dimension "d141" = 2
  dimension "d142" = 2
  dimension "d143" = 2
  dimension "d144" = 2
  dimension "d145" = 2
  dimension "d146" = 2
extrude "Extrusion24" add sketch "Sketch21" against normal blind 2 contours L1 L2 L3 L0 | L16 L15 L14 L0 | L21 L18 L19 L0 | L5 L6 L7 L8 | L9 L10 L11 L12 | L9 L23 L24 L25 | L31 L30 L29 L28 | L34 L35 L32 L33 | L37 L40 L32 L38
sketch "Sketch22" plane through (7.5, -3, 16) normal (0, -1, 0) x (1, 0, 0)
  line L0 (-18, -10.4049) -> (-16.0375, -10.4049) projected
  line L1 (-18, -10.4049) -> (-16, -10.4049)
  line L2 (-16, -10.4049) -> (-16, -8.4049)
  line L3 (-16, -8.4049) -> (-18, -8.4049)
  line L4 (-18, -8.4049) -> (-18, -10.4049)
  line L5 (3, -5.6314) -> (3, -19) projected
  line L6 (3, -10.4049) -> (1, -10.4049)
  line L7 (1, -10.4049) -> (1, -8.4049)
  line L8 (1, -8.4049) -> (3, -8.4049)
  line L9 (3, -8.4049) -> (3, -10.4049)
  line L10 (3, 6) -> (3, -5.6314) projected
  line L11 (3, -1.5292) -> (1, -1.5292)
  line L12 (1, -1.5292) -> (1, 0.4708)
  line L13 (1, 0.4708) -> (3, 0.4708)
  line L14 (3, 0.4708) -> (3, -1.5292)
  line L15 (-18, 0.4708) -> (-16, 0.4708)
  line L16 (-16, 0.4708) -> (-16, -1.5292)
  line L17 (-16, -1.5292) -> (-18, -1.5292)
  line L18 (-18, -1.5292) -> (-18, 0.4708)
  point P0 (-7.5, -16)
  dimension "d149" = 2
  dimension "d150" = 2
  dimension "d151" = 2
  dimension "d152" = 2
  dimension "d153" = 2
  dimension "d154" = 2
  dimension "d155" = 2
  dimension "d156" = 2
extrude "Extrusion25" add sketch "Sketch22" against normal blind 2
sketch "Sketch23" plane through (-10.5, -15, -3) normal (1, 0, 0) x (0, 0, -1)
  line L0 (-130, 7.7184) -> (-130, 22.2816) projected
  line L1 (-130, 7.7184) -> (-90, 7.7184)
  line L2 (-90, 7.7184) -> (-90, 22.7184)
  line L3 (-90, 22.7184) -> (-130, 22.7184)
  line L4 (-130, 22.7184) -> (-130, 7.7184)
  point P0 (-3, 15)
  dimension "d159" = 40
  dimension "d160" = 15
extrude "Extrusion26" cut sketch "Sketch23" against normal blind 5
sketch "Sketch24" plane through (-8.5, -2, 0) normal (-1, 0, 0) x (0, 0, 1)
  line L0 (-3, 17) -> (-3, -13) projected
  line L1 (-3, 2) -> (29, 2)
  line L2 (29, 2) -> (29, 10)
  line L3 (29, 10) -> (-3, 10)
  line L4 (-3, 10) -> (-3, 2)
  circle A0 centre (11, 1) radius 7.5
  point P0 (0, 2)
  dimension "d163" = 32
  dimension "d164" = 8
  dimension "d165" = 15
extrude "Extrusion27" add sketch "Sketch24" against normal blind 2 contours L3 L2 L1 A0 L0 | A0 L1 picked at (12.6457, 4.7051)
extrude "Extrusion28" cut sketch "Sketch24" against normal blind 2 contours A0 L1 | L1 A0
sketch "Sketch25" plane through (8.5, -2, 0) normal (1, 0, 0) x (0, 0, -1)
  line L0 (3, 10) -> (3, 0) projected
  line L1 (3, 2) -> (-29, 2)
  line L2 (-29, 2) -> (-29, 13)
  line L3 (-29, 13) -> (3, 13)
  line L4 (3, 13) -> (3, 2)
  circle A0 centre (-11, 1) radius 7
  point P0 (0, 2)
  dimension "d170" = 32
  dimension "d171" = 11
  dimension "d172" = 14
extrude "Extrusion29" add sketch "Sketch25" against normal blind 2 contours L0 L1 A0 L2 L3 L4 | L1 A0 picked at (-12.3344, 5.2965)
extrude "Extrusion30" cut sketch "Sketch25" against normal blind 2 contours A0 L1 | L1 A0
sketch "Sketch26" plane through (-4.5, -3, 28) normal (0, -1, 0) x (1, 0, 0)
  line L0 (13, -2) -> (-5, -2)
  line L1 (-5, -2) -> (-5, -12)
  line L2 (-5, -12) -> (13, -12)
  line L3 (13, -12) -> (13, -2)
  point P0 (4.5, -28)
  dimension "d177" = 18
  dimension "d178" = 10
extrude "Extrusion31" cut sketch "Sketch26" against normal blind 2
properties part number "sampleholder5"
